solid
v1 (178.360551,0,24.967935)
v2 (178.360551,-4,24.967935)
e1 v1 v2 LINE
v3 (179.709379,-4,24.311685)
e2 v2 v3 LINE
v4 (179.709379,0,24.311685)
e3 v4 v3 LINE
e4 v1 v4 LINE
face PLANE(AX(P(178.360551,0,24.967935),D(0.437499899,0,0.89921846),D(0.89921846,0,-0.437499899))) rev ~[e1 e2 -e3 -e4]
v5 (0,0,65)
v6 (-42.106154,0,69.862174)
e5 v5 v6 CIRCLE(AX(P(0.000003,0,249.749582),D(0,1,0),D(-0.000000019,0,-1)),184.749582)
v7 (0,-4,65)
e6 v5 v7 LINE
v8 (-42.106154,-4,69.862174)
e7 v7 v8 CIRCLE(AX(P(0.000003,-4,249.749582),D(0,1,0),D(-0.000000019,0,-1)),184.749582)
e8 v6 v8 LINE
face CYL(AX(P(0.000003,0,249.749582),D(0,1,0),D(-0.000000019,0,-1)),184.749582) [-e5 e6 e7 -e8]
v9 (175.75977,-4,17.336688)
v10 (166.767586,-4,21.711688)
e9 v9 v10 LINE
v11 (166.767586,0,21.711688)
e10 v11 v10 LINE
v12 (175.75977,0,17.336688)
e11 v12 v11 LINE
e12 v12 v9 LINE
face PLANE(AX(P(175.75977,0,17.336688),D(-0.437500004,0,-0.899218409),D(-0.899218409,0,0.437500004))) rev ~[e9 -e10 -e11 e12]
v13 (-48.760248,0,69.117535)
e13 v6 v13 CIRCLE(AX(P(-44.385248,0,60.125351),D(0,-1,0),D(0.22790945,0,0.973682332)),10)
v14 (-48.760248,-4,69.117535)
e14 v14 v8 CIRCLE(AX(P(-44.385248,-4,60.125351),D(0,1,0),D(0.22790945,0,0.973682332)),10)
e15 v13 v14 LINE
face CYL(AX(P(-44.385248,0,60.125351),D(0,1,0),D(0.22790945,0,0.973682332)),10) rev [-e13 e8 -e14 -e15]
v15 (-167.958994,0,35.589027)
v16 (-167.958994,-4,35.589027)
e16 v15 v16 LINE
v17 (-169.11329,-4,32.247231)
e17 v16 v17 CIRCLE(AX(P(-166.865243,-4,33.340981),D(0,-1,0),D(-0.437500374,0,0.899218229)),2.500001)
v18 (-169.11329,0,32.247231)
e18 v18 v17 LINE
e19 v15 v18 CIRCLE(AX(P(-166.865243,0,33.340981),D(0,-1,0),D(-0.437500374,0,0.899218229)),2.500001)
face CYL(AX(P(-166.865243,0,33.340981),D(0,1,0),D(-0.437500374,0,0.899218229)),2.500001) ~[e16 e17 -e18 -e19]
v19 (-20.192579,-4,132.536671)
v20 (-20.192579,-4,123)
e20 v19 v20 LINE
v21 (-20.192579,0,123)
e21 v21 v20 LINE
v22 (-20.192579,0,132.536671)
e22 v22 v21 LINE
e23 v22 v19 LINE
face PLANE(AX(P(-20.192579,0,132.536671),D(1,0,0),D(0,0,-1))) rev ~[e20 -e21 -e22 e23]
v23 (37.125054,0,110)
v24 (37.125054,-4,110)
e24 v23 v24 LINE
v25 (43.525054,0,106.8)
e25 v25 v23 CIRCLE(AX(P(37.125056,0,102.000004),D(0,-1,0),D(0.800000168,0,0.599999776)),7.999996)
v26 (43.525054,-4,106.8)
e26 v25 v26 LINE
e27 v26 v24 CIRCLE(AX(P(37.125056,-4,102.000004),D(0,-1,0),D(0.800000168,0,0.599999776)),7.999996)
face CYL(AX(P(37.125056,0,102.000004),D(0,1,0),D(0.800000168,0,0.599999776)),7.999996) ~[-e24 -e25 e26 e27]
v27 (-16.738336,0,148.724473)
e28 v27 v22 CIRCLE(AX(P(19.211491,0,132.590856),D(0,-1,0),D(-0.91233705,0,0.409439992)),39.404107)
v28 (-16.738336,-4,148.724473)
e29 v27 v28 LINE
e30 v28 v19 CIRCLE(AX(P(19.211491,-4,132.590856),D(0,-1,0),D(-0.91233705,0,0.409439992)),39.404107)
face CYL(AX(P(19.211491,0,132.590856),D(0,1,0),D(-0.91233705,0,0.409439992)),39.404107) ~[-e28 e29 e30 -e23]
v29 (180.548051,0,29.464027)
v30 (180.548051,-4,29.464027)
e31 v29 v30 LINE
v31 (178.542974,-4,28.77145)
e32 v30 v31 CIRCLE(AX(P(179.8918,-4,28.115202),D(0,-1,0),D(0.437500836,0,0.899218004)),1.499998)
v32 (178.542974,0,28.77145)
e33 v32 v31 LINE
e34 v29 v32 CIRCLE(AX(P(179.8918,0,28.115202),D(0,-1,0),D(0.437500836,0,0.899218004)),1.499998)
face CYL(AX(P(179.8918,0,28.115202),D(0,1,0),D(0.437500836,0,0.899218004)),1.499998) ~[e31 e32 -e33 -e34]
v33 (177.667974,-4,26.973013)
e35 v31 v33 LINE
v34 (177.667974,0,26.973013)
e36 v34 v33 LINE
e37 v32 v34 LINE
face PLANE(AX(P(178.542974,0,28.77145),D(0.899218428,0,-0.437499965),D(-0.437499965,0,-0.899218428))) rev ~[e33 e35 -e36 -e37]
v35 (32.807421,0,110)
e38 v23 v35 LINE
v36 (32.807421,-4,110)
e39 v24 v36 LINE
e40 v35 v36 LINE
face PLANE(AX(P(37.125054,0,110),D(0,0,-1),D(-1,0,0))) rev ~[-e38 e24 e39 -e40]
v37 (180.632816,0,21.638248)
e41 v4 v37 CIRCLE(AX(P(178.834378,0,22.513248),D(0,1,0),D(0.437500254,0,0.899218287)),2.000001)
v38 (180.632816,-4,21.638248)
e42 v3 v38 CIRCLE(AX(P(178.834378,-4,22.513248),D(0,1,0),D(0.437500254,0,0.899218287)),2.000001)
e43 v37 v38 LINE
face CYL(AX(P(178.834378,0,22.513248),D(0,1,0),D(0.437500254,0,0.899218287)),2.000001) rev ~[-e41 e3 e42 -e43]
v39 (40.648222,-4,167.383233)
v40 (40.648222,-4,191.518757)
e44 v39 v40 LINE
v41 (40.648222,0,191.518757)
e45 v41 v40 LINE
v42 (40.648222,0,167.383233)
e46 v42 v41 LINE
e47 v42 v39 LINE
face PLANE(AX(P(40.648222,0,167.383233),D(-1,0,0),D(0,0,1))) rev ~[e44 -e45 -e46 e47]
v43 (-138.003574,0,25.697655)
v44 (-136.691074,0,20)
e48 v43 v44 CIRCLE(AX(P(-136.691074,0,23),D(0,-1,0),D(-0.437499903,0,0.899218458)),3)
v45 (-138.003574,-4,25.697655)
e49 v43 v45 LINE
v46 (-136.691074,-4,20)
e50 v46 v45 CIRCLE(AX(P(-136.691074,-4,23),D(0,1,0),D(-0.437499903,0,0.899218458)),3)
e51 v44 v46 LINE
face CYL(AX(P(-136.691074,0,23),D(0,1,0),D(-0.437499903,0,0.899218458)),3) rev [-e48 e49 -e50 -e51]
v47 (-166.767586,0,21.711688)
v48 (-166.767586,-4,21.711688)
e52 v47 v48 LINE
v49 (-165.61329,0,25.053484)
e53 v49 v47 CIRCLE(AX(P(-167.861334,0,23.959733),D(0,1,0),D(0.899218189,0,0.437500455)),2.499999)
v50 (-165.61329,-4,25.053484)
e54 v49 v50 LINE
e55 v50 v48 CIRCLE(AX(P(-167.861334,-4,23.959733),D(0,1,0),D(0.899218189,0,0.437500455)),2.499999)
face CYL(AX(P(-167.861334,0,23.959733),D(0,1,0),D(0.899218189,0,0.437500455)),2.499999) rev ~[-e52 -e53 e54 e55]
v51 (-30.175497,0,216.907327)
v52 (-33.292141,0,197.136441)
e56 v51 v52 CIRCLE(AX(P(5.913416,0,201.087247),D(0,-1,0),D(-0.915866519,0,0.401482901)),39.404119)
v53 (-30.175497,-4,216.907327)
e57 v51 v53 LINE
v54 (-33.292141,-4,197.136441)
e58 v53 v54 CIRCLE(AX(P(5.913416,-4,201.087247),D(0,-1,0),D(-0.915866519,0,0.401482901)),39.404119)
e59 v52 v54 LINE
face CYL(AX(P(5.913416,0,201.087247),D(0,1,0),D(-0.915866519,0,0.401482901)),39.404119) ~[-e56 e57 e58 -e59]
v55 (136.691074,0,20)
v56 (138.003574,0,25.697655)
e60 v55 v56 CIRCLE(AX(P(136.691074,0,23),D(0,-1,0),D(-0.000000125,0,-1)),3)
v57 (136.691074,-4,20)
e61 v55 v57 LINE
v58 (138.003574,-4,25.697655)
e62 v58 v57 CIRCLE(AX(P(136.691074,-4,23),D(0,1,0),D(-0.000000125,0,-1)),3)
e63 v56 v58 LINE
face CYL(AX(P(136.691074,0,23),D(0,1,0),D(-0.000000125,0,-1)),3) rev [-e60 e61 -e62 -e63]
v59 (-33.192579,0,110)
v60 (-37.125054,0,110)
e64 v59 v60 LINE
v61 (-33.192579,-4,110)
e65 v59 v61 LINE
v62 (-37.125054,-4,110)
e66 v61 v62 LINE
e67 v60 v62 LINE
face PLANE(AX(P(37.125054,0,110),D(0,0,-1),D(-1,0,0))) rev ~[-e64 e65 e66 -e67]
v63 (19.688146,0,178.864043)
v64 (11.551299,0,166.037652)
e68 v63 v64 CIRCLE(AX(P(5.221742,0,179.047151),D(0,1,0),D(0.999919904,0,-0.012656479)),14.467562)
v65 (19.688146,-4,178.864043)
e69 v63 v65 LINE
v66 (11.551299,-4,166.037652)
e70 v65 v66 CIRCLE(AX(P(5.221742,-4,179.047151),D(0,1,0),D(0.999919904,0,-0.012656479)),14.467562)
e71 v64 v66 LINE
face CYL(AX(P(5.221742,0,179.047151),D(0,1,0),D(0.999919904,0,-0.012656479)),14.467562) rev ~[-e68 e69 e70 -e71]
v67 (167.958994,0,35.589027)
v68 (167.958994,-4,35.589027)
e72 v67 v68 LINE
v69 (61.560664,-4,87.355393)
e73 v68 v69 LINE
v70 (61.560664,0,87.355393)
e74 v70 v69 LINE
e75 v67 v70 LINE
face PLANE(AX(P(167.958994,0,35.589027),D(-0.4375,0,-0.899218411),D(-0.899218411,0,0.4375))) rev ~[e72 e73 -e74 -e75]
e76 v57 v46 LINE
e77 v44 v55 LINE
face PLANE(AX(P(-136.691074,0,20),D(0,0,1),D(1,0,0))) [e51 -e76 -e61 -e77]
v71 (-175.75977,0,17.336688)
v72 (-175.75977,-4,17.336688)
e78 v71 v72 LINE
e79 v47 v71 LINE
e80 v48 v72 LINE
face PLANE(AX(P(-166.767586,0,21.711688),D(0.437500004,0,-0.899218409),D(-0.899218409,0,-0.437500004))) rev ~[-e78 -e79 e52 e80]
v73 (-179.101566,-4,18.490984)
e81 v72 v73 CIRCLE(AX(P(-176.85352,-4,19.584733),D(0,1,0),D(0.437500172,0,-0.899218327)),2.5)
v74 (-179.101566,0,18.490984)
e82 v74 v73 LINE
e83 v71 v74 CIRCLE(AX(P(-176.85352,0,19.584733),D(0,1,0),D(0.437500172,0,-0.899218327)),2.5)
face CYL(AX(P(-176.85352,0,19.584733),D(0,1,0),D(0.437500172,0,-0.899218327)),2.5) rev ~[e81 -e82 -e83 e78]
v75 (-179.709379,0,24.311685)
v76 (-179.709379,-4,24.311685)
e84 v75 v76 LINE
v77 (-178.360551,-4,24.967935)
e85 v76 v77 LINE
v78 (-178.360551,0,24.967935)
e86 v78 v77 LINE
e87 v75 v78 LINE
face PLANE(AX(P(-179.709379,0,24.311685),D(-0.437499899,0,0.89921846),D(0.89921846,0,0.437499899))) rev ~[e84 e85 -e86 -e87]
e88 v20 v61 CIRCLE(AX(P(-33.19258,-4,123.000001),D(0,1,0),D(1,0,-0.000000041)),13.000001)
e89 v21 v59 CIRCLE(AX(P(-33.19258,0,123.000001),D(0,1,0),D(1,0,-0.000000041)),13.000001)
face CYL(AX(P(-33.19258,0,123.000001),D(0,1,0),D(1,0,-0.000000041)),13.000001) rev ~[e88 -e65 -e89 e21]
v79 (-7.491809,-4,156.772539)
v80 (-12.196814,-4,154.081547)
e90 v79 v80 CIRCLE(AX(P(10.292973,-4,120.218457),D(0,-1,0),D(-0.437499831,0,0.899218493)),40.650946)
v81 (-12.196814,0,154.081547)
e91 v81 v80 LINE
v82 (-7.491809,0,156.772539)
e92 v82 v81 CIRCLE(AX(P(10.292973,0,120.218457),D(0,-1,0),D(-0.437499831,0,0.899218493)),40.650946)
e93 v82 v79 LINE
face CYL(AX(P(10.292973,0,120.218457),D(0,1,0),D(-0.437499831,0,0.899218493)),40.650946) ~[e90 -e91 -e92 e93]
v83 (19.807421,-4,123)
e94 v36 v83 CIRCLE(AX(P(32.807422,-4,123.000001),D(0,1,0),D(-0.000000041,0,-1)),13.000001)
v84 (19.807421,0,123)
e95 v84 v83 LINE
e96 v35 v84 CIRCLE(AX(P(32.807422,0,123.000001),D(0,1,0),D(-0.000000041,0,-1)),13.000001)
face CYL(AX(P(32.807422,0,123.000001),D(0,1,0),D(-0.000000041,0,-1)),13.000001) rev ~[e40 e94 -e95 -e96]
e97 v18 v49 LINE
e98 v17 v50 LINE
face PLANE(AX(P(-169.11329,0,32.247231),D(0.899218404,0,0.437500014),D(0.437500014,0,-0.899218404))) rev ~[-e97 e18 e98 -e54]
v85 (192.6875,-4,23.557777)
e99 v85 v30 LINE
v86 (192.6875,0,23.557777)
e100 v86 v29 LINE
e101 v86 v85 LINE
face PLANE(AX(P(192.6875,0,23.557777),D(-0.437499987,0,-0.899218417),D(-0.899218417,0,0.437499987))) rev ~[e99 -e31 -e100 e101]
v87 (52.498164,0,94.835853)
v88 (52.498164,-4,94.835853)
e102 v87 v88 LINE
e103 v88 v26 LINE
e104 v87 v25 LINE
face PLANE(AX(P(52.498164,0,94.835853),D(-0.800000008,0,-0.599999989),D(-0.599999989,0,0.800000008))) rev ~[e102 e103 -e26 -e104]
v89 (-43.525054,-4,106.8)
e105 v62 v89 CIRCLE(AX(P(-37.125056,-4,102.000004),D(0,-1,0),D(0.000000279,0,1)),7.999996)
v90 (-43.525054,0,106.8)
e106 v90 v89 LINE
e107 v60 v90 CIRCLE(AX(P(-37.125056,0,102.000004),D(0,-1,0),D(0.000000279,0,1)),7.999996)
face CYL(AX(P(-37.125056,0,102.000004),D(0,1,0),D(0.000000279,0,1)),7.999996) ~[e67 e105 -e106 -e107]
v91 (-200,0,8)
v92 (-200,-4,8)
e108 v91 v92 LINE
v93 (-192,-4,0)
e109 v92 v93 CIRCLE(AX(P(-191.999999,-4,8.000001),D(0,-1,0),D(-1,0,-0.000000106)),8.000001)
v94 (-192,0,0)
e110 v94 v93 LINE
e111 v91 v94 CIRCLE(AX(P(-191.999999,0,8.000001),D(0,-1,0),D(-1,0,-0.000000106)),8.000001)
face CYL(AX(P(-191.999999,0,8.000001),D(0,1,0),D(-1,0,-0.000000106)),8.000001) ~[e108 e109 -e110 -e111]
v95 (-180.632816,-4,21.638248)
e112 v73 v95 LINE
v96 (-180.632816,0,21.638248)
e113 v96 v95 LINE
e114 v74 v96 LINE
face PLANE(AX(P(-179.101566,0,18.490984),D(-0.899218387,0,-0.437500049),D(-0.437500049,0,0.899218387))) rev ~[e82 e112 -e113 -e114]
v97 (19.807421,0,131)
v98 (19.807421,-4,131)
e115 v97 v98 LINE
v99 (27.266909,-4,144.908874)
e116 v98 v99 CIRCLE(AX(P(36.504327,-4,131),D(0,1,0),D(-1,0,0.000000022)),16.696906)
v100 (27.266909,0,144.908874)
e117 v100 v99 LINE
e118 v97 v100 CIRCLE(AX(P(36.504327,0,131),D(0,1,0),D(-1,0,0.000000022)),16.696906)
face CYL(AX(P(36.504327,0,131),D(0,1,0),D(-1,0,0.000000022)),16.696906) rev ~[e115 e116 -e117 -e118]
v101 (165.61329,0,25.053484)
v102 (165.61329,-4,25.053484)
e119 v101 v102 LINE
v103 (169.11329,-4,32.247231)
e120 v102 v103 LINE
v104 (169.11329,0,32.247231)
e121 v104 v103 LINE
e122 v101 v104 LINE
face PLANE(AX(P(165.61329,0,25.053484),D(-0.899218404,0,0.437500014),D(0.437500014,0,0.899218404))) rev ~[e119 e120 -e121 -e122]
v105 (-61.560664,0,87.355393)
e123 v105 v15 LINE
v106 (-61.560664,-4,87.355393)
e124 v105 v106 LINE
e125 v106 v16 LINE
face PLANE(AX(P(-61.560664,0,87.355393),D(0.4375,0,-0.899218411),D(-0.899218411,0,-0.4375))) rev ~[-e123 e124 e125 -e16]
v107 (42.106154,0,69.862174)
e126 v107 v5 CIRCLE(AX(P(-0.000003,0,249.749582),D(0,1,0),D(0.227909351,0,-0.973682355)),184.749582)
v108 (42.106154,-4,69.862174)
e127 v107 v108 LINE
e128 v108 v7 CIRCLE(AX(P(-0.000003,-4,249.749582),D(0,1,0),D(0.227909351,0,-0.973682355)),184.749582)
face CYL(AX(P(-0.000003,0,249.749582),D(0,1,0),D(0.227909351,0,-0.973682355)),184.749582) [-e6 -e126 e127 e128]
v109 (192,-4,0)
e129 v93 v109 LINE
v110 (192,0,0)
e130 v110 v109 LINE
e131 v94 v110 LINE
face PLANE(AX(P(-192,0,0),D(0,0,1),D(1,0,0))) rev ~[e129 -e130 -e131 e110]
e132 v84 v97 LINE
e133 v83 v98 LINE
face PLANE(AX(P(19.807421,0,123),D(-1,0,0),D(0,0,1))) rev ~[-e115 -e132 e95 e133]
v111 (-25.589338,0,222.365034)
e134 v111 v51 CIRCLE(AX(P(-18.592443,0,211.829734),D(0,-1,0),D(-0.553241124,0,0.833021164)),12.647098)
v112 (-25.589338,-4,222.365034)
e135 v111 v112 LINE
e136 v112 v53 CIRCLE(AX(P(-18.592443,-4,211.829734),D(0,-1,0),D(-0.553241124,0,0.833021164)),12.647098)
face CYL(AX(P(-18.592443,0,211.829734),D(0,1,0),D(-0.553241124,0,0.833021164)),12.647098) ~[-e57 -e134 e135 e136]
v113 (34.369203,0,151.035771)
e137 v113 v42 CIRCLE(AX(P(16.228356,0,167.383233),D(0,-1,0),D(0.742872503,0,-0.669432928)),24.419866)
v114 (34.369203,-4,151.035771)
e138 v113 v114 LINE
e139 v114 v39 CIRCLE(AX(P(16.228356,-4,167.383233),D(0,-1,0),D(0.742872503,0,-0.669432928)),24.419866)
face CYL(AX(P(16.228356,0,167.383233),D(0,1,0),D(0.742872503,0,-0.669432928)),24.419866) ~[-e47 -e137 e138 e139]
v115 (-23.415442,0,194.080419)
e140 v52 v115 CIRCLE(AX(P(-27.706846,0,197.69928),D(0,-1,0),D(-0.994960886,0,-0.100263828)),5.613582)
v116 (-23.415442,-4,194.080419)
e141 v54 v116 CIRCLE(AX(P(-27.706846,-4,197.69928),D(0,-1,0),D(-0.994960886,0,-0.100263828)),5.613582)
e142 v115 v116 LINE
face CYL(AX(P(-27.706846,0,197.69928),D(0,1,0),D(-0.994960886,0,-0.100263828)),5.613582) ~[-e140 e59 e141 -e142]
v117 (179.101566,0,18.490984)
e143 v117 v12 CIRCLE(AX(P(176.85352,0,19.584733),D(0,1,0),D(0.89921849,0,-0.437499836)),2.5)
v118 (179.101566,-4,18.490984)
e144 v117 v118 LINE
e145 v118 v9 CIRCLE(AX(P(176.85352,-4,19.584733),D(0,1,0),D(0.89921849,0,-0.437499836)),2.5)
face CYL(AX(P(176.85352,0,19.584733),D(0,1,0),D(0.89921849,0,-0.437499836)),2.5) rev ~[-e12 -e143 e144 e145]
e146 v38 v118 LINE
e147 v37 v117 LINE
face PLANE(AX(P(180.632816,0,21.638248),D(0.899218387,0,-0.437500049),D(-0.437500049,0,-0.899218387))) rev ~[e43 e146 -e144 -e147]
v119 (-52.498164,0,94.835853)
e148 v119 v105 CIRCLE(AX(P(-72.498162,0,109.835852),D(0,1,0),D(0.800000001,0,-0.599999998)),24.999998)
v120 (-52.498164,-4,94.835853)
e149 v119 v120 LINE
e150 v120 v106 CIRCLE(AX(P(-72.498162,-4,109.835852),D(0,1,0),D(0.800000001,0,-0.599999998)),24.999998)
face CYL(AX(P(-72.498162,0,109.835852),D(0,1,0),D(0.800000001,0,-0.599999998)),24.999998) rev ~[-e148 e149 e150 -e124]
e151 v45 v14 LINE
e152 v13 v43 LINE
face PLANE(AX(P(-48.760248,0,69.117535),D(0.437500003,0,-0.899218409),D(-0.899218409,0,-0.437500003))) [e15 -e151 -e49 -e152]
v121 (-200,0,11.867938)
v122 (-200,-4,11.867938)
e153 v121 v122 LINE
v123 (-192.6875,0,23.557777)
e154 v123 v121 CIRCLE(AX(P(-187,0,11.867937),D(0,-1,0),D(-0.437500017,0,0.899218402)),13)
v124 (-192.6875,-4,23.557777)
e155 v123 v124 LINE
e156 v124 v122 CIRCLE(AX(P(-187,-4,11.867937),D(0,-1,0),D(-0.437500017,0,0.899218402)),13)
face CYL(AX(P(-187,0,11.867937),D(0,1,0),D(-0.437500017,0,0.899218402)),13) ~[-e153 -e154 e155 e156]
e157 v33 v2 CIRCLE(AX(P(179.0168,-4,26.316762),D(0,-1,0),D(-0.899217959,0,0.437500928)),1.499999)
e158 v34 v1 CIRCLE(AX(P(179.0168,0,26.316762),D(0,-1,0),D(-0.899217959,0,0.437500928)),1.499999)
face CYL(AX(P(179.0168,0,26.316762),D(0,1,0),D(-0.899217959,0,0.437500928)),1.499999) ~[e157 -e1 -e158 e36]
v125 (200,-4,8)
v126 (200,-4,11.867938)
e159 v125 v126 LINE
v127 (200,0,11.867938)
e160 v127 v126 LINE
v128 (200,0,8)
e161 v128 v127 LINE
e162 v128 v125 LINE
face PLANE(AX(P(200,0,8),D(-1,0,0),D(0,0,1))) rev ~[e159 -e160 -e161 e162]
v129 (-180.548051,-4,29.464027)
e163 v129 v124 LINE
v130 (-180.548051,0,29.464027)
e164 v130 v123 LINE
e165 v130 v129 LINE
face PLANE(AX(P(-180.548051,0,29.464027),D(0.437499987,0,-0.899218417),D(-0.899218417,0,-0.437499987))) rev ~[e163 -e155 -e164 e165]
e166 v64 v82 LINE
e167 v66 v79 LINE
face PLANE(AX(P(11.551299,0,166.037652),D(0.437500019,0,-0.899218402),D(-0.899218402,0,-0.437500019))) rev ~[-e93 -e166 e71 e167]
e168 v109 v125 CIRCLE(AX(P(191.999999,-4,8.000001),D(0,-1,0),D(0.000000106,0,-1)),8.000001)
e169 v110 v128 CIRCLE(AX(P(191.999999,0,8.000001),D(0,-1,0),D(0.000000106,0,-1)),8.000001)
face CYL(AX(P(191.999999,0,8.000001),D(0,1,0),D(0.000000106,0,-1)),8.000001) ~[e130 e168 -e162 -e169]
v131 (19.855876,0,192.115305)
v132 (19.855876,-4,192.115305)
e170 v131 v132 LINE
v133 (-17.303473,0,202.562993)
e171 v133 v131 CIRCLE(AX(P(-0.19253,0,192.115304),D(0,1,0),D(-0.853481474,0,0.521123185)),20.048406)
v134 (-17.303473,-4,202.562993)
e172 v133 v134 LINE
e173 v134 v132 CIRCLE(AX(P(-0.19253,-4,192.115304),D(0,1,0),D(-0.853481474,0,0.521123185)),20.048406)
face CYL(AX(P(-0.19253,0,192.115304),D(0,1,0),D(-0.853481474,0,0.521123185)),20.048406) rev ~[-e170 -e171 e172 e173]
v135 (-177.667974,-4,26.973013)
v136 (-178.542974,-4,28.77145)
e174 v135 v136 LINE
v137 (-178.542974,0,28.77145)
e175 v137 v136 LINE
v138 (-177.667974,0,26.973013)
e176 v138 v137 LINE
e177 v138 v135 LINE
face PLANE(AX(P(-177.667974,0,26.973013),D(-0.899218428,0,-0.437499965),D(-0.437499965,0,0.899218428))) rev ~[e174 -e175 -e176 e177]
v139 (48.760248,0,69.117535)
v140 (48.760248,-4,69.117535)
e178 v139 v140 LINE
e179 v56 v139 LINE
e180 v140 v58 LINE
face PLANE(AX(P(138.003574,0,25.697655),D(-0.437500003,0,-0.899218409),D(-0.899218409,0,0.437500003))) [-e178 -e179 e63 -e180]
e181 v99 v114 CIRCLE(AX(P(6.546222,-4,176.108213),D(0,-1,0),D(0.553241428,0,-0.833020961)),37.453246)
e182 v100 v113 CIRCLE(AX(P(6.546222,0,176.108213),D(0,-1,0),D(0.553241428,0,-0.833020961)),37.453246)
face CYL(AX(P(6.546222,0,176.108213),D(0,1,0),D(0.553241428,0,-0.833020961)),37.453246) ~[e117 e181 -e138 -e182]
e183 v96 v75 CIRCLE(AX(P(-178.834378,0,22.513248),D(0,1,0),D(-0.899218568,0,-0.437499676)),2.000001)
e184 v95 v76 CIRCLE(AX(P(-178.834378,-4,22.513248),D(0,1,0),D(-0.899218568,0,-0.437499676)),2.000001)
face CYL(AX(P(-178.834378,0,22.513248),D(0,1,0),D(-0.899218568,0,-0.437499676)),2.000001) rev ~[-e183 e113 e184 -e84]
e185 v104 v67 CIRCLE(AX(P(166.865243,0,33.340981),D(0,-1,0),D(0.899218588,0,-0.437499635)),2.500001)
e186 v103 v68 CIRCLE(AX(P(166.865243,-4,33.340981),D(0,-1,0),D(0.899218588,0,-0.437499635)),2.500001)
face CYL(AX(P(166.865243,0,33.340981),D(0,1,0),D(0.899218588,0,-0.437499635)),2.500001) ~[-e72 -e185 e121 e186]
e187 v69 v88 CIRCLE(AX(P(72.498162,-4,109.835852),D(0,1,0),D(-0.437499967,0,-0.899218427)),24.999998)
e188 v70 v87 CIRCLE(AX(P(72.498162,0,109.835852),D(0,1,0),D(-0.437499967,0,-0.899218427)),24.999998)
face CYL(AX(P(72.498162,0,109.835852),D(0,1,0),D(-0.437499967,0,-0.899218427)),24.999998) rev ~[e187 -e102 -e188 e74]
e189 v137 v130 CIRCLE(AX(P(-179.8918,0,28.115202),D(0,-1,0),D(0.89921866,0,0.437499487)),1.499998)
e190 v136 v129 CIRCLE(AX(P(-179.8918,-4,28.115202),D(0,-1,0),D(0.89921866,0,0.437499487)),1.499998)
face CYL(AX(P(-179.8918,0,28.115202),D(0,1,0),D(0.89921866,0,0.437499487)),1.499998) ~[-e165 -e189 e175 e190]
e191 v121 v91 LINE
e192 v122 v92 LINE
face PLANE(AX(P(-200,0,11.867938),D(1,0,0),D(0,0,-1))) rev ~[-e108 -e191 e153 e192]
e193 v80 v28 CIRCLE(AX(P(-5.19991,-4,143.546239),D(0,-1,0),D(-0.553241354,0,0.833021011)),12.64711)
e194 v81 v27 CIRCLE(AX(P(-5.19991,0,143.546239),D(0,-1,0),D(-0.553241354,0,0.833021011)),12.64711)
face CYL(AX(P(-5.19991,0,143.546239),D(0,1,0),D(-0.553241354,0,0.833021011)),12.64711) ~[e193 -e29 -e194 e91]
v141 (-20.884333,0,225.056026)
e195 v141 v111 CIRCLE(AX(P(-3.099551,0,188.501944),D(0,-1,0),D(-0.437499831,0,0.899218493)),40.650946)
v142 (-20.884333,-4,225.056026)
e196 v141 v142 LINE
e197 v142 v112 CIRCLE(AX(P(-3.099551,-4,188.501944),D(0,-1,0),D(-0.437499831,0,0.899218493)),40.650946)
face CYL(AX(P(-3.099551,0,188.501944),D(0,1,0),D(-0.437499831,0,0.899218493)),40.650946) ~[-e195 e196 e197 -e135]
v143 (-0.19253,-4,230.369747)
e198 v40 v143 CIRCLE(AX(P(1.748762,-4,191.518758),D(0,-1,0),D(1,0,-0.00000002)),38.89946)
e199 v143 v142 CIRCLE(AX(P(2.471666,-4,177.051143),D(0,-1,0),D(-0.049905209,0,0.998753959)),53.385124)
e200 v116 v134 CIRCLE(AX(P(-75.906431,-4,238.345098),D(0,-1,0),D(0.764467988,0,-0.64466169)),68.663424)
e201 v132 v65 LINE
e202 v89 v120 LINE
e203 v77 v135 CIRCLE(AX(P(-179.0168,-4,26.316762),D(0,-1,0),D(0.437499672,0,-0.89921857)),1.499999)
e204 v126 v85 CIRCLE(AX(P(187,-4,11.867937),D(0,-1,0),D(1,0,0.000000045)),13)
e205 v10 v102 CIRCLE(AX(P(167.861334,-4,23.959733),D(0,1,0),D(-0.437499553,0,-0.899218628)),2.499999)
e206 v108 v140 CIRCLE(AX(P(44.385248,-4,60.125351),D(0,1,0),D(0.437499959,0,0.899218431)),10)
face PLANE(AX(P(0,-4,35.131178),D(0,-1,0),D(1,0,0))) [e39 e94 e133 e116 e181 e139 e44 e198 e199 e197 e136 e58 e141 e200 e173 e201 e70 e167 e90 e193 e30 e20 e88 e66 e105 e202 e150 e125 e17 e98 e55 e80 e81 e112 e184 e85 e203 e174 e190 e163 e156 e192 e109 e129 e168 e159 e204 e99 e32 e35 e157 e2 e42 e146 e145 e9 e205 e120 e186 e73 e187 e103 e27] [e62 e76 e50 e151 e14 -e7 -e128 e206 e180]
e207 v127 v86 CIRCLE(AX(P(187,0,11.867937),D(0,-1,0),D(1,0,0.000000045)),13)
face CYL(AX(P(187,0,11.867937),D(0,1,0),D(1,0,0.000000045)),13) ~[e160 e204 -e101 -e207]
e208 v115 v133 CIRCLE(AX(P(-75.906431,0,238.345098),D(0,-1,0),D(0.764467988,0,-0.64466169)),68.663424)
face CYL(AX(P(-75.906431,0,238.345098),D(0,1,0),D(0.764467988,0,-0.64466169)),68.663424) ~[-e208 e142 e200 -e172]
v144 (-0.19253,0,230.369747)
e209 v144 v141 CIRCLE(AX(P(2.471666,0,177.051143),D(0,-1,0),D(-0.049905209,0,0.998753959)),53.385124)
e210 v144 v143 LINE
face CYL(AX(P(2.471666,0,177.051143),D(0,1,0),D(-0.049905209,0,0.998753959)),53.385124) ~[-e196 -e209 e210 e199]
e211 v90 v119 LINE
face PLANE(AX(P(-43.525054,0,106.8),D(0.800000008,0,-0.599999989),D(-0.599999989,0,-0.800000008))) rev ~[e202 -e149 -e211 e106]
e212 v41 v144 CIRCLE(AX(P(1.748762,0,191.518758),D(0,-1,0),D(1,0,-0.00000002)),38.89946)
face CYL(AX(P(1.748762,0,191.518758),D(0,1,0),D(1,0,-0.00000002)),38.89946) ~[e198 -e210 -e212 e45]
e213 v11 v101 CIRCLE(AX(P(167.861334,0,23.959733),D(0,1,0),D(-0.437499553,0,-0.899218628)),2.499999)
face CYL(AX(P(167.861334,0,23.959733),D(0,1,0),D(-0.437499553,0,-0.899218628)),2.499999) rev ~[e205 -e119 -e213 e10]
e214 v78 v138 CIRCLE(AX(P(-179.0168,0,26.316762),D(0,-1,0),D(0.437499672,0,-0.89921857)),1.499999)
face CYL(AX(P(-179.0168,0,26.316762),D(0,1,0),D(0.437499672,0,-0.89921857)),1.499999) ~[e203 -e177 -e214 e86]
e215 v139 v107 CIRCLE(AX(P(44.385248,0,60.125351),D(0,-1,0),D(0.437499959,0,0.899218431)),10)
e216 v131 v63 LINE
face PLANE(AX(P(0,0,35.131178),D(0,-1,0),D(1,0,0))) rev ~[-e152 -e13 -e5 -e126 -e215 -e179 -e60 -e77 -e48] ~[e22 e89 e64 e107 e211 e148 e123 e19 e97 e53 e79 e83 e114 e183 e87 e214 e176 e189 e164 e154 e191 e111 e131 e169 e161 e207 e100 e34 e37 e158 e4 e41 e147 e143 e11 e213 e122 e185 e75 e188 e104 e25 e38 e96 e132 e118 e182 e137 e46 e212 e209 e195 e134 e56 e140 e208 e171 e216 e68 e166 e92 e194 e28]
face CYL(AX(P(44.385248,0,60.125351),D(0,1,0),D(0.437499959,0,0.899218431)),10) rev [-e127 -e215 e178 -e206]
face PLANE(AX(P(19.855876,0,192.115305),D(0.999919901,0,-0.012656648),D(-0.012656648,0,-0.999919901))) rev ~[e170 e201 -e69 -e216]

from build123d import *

# Parameters (mm, degrees)
F4_DEPTH = 4
F5_DEPTH = 25
F6_DEPTH = 4


with BuildPart() as f4:
    # F1 (on Front) → F4 (new body)
    with BuildSketch(Plane.XZ):
        with BuildLine():
            Line((-192, 0), (0, 0))
            Line((0, 0), (192, 0))
            ThreePointArc((192, 0), (197.656854, 2.343146), (200, 8))
            Line((200, 8), (200, 11.867938))
            ThreePointArc((200, 11.867938), (198.021286, 18.762229), (192.6875, 23.557777))
            Line((192.6875, 23.557777), (180.548051, 29.464027))
            ThreePointArc((180.548051, 29.464027), (179.402075, 29.533004), (178.542974, 28.77145))
            Line((178.542974, 28.77145), (177.667974, 26.973013))
            ThreePointArc((177.667974, 26.973013), (177.598997, 25.827036), (178.360551, 24.967935))
            Line((178.360551, 24.967935), (179.709379, 24.311685))
            ThreePointArc((179.709379, 24.311685), (180.724784, 23.166217), (180.632816, 21.638248))
            Line((180.632816, 21.638248), (179.101566, 18.490984))
            ThreePointArc((179.101566, 18.490984), (177.66973, 17.221727), (175.75977, 17.336688))
            Line((175.75977, 17.336688), (166.767586, 21.711688))
            ThreePointArc((166.767586, 21.711688), (165.498329, 23.143523), (165.61329, 25.053484))
            Line((165.61329, 25.053484), (169.11329, 32.247231))
            ThreePointArc((169.11329, 32.247231), (169.22825, 34.157192), (167.958994, 35.589027))
            Line((167.958994, 35.589027), (61.560664, 87.355393))
            ThreePointArc((61.560664, 87.355393), (56.583657, 90.555592), (52.498164, 94.835853))
            Line((52.498164, 94.835853), (43.525054, 106.8))
            ThreePointArc((43.525054, 106.8), (40.702763, 109.155418), (37.125054, 110))
            Line((37.125054, 110), (0, 110))
            Line((0, 110), (-37.125054, 110))
            ThreePointArc((-37.125054, 110), (-40.702763, 109.155418), (-43.525054, 106.8))
            Line((-43.525054, 106.8), (-52.498164, 94.835853))
            ThreePointArc((-52.498164, 94.835853), (-56.583657, 90.555592), (-61.560664, 87.355393))
            Line((-61.560664, 87.355393), (-167.958994, 35.589027))
            ThreePointArc((-167.958994, 35.589027), (-169.22825, 34.157192), (-169.11329, 32.247231))
            Line((-169.11329, 32.247231), (-165.61329, 25.053484))
            ThreePointArc((-165.61329, 25.053484), (-165.498329, 23.143523), (-166.767586, 21.711688))
            Line((-166.767586, 21.711688), (-175.75977, 17.336688))
            ThreePointArc((-175.75977, 17.336688), (-177.66973, 17.221727), (-179.101566, 18.490984))
            Line((-179.101566, 18.490984), (-180.632816, 21.638248))
            ThreePointArc((-180.632816, 21.638248), (-180.724784, 23.166217), (-179.709379, 24.311685))
            Line((-179.709379, 24.311685), (-178.360551, 24.967935))
            ThreePointArc((-178.360551, 24.967935), (-177.598997, 25.827036), (-177.667974, 26.973013))
            Line((-177.667974, 26.973013), (-178.542974, 28.77145))
            ThreePointArc((-178.542974, 28.77145), (-179.402075, 29.533004), (-180.548051, 29.464027))
            Line((-180.548051, 29.464027), (-192.6875, 23.557777))
            ThreePointArc((-192.6875, 23.557777), (-198.021286, 18.762229), (-200, 11.867938))
            Line((-200, 11.867938), (-200, 8))
            ThreePointArc((-200, 8), (-197.656854, 2.343146), (-192, 0))
        make_face()
    extrude(amount=F4_DEPTH)

    # F2 (on Front) → F5 (cut)
    with BuildSketch(Plane.XZ):
        with BuildLine():
            Line((-48.760248, 69.117535), (-138.003574, 25.697655))
            ThreePointArc((-138.003574, 25.697655), (-139.614511, 22.326563), (-136.691074, 20))
            Line((-136.691074, 20), (0, 20))
            Line((0, 20), (136.691074, 20))
            ThreePointArc((136.691074, 20), (139.614511, 22.326563), (138.003574, 25.697655))
            Line((138.003574, 25.697655), (48.760248, 69.117535))
            ThreePointArc((48.760248, 69.117535), (45.497375, 70.063317), (42.106154, 69.862174))
            ThreePointArc((42.106154, 69.862174), (21.192976, 66.219569), (0, 65))
            ThreePointArc((0, 65), (-21.192976, 66.219569), (-42.106154, 69.862174))
            ThreePointArc((-42.106154, 69.862174), (-45.497375, 70.063317), (-48.760248, 69.117535))
        make_face()
    extrude(amount=F5_DEPTH, mode=Mode.SUBTRACT)

    # F3 (on Front) → F6 (join)
    with BuildSketch(Plane.XZ):
        with BuildLine():
            ThreePointArc((32.807421, 110), (23.615033, 113.807612), (19.807421, 123))
            Line((19.807421, 123), (19.807421, 131))
            ThreePointArc((19.807421, 131), (21.789998, 138.891463), (27.266909, 144.908874))
            ThreePointArc((27.266909, 144.908874), (31.010618, 147.749106), (34.369203, 151.035771))
            ThreePointArc((34.369203, 151.035771), (39.024484, 158.627298), (40.648222, 167.383233))
            Line((40.648222, 167.383233), (40.648222, 191.518757))
            ThreePointArc((40.648222, 191.518757), (28.5597, 219.702824), (-0.19253, 230.369747))
            ThreePointArc((-0.19253, 230.369747), (-10.806946, 228.758492), (-20.884333, 225.056026))
            ThreePointArc((-20.884333, 225.056026), (-23.281736, 223.789035), (-25.589338, 222.365034))
            ThreePointArc((-25.589338, 222.365034), (-28.274915, 219.966), (-30.175497, 216.907327))
            ThreePointArc((-30.175497, 216.907327), (-33.010051, 207.223067), (-33.292141, 197.136441))
            ThreePointArc((-33.292141, 197.136441), (-29.36617, 192.336543), (-23.415442, 194.080419))
            ThreePointArc((-23.415442, 194.080419), (-20.197771, 198.205206), (-17.303473, 202.562993))
            ThreePointArc((-17.303473, 202.562993), (5.233861, 211.415378), (19.855876, 192.115305))
            Line((19.855876, 192.115305), (19.688146, 178.864043))
            ThreePointArc((19.688146, 178.864043), (17.438414, 171.2971), (11.551299, 166.037652))
            Line((11.551299, 166.037652), (-7.491809, 156.772539))
            ThreePointArc((-7.491809, 156.772539), (-9.889212, 155.505548), (-12.196814, 154.081547))
            ThreePointArc((-12.196814, 154.081547), (-14.846888, 151.724576), (-16.738336, 148.724473))
            ThreePointArc((-16.738336, 148.724473), (-19.325033, 140.813993), (-20.192579, 132.536671))
            Line((-20.192579, 132.536671), (-20.192579, 123))
            ThreePointArc((-20.192579, 123), (-24.000191, 113.807612), (-33.192579, 110))
            Line((-33.192579, 110), (32.807421, 110))
        make_face()
    extrude(amount=F6_DEPTH)


solid = f4.part
